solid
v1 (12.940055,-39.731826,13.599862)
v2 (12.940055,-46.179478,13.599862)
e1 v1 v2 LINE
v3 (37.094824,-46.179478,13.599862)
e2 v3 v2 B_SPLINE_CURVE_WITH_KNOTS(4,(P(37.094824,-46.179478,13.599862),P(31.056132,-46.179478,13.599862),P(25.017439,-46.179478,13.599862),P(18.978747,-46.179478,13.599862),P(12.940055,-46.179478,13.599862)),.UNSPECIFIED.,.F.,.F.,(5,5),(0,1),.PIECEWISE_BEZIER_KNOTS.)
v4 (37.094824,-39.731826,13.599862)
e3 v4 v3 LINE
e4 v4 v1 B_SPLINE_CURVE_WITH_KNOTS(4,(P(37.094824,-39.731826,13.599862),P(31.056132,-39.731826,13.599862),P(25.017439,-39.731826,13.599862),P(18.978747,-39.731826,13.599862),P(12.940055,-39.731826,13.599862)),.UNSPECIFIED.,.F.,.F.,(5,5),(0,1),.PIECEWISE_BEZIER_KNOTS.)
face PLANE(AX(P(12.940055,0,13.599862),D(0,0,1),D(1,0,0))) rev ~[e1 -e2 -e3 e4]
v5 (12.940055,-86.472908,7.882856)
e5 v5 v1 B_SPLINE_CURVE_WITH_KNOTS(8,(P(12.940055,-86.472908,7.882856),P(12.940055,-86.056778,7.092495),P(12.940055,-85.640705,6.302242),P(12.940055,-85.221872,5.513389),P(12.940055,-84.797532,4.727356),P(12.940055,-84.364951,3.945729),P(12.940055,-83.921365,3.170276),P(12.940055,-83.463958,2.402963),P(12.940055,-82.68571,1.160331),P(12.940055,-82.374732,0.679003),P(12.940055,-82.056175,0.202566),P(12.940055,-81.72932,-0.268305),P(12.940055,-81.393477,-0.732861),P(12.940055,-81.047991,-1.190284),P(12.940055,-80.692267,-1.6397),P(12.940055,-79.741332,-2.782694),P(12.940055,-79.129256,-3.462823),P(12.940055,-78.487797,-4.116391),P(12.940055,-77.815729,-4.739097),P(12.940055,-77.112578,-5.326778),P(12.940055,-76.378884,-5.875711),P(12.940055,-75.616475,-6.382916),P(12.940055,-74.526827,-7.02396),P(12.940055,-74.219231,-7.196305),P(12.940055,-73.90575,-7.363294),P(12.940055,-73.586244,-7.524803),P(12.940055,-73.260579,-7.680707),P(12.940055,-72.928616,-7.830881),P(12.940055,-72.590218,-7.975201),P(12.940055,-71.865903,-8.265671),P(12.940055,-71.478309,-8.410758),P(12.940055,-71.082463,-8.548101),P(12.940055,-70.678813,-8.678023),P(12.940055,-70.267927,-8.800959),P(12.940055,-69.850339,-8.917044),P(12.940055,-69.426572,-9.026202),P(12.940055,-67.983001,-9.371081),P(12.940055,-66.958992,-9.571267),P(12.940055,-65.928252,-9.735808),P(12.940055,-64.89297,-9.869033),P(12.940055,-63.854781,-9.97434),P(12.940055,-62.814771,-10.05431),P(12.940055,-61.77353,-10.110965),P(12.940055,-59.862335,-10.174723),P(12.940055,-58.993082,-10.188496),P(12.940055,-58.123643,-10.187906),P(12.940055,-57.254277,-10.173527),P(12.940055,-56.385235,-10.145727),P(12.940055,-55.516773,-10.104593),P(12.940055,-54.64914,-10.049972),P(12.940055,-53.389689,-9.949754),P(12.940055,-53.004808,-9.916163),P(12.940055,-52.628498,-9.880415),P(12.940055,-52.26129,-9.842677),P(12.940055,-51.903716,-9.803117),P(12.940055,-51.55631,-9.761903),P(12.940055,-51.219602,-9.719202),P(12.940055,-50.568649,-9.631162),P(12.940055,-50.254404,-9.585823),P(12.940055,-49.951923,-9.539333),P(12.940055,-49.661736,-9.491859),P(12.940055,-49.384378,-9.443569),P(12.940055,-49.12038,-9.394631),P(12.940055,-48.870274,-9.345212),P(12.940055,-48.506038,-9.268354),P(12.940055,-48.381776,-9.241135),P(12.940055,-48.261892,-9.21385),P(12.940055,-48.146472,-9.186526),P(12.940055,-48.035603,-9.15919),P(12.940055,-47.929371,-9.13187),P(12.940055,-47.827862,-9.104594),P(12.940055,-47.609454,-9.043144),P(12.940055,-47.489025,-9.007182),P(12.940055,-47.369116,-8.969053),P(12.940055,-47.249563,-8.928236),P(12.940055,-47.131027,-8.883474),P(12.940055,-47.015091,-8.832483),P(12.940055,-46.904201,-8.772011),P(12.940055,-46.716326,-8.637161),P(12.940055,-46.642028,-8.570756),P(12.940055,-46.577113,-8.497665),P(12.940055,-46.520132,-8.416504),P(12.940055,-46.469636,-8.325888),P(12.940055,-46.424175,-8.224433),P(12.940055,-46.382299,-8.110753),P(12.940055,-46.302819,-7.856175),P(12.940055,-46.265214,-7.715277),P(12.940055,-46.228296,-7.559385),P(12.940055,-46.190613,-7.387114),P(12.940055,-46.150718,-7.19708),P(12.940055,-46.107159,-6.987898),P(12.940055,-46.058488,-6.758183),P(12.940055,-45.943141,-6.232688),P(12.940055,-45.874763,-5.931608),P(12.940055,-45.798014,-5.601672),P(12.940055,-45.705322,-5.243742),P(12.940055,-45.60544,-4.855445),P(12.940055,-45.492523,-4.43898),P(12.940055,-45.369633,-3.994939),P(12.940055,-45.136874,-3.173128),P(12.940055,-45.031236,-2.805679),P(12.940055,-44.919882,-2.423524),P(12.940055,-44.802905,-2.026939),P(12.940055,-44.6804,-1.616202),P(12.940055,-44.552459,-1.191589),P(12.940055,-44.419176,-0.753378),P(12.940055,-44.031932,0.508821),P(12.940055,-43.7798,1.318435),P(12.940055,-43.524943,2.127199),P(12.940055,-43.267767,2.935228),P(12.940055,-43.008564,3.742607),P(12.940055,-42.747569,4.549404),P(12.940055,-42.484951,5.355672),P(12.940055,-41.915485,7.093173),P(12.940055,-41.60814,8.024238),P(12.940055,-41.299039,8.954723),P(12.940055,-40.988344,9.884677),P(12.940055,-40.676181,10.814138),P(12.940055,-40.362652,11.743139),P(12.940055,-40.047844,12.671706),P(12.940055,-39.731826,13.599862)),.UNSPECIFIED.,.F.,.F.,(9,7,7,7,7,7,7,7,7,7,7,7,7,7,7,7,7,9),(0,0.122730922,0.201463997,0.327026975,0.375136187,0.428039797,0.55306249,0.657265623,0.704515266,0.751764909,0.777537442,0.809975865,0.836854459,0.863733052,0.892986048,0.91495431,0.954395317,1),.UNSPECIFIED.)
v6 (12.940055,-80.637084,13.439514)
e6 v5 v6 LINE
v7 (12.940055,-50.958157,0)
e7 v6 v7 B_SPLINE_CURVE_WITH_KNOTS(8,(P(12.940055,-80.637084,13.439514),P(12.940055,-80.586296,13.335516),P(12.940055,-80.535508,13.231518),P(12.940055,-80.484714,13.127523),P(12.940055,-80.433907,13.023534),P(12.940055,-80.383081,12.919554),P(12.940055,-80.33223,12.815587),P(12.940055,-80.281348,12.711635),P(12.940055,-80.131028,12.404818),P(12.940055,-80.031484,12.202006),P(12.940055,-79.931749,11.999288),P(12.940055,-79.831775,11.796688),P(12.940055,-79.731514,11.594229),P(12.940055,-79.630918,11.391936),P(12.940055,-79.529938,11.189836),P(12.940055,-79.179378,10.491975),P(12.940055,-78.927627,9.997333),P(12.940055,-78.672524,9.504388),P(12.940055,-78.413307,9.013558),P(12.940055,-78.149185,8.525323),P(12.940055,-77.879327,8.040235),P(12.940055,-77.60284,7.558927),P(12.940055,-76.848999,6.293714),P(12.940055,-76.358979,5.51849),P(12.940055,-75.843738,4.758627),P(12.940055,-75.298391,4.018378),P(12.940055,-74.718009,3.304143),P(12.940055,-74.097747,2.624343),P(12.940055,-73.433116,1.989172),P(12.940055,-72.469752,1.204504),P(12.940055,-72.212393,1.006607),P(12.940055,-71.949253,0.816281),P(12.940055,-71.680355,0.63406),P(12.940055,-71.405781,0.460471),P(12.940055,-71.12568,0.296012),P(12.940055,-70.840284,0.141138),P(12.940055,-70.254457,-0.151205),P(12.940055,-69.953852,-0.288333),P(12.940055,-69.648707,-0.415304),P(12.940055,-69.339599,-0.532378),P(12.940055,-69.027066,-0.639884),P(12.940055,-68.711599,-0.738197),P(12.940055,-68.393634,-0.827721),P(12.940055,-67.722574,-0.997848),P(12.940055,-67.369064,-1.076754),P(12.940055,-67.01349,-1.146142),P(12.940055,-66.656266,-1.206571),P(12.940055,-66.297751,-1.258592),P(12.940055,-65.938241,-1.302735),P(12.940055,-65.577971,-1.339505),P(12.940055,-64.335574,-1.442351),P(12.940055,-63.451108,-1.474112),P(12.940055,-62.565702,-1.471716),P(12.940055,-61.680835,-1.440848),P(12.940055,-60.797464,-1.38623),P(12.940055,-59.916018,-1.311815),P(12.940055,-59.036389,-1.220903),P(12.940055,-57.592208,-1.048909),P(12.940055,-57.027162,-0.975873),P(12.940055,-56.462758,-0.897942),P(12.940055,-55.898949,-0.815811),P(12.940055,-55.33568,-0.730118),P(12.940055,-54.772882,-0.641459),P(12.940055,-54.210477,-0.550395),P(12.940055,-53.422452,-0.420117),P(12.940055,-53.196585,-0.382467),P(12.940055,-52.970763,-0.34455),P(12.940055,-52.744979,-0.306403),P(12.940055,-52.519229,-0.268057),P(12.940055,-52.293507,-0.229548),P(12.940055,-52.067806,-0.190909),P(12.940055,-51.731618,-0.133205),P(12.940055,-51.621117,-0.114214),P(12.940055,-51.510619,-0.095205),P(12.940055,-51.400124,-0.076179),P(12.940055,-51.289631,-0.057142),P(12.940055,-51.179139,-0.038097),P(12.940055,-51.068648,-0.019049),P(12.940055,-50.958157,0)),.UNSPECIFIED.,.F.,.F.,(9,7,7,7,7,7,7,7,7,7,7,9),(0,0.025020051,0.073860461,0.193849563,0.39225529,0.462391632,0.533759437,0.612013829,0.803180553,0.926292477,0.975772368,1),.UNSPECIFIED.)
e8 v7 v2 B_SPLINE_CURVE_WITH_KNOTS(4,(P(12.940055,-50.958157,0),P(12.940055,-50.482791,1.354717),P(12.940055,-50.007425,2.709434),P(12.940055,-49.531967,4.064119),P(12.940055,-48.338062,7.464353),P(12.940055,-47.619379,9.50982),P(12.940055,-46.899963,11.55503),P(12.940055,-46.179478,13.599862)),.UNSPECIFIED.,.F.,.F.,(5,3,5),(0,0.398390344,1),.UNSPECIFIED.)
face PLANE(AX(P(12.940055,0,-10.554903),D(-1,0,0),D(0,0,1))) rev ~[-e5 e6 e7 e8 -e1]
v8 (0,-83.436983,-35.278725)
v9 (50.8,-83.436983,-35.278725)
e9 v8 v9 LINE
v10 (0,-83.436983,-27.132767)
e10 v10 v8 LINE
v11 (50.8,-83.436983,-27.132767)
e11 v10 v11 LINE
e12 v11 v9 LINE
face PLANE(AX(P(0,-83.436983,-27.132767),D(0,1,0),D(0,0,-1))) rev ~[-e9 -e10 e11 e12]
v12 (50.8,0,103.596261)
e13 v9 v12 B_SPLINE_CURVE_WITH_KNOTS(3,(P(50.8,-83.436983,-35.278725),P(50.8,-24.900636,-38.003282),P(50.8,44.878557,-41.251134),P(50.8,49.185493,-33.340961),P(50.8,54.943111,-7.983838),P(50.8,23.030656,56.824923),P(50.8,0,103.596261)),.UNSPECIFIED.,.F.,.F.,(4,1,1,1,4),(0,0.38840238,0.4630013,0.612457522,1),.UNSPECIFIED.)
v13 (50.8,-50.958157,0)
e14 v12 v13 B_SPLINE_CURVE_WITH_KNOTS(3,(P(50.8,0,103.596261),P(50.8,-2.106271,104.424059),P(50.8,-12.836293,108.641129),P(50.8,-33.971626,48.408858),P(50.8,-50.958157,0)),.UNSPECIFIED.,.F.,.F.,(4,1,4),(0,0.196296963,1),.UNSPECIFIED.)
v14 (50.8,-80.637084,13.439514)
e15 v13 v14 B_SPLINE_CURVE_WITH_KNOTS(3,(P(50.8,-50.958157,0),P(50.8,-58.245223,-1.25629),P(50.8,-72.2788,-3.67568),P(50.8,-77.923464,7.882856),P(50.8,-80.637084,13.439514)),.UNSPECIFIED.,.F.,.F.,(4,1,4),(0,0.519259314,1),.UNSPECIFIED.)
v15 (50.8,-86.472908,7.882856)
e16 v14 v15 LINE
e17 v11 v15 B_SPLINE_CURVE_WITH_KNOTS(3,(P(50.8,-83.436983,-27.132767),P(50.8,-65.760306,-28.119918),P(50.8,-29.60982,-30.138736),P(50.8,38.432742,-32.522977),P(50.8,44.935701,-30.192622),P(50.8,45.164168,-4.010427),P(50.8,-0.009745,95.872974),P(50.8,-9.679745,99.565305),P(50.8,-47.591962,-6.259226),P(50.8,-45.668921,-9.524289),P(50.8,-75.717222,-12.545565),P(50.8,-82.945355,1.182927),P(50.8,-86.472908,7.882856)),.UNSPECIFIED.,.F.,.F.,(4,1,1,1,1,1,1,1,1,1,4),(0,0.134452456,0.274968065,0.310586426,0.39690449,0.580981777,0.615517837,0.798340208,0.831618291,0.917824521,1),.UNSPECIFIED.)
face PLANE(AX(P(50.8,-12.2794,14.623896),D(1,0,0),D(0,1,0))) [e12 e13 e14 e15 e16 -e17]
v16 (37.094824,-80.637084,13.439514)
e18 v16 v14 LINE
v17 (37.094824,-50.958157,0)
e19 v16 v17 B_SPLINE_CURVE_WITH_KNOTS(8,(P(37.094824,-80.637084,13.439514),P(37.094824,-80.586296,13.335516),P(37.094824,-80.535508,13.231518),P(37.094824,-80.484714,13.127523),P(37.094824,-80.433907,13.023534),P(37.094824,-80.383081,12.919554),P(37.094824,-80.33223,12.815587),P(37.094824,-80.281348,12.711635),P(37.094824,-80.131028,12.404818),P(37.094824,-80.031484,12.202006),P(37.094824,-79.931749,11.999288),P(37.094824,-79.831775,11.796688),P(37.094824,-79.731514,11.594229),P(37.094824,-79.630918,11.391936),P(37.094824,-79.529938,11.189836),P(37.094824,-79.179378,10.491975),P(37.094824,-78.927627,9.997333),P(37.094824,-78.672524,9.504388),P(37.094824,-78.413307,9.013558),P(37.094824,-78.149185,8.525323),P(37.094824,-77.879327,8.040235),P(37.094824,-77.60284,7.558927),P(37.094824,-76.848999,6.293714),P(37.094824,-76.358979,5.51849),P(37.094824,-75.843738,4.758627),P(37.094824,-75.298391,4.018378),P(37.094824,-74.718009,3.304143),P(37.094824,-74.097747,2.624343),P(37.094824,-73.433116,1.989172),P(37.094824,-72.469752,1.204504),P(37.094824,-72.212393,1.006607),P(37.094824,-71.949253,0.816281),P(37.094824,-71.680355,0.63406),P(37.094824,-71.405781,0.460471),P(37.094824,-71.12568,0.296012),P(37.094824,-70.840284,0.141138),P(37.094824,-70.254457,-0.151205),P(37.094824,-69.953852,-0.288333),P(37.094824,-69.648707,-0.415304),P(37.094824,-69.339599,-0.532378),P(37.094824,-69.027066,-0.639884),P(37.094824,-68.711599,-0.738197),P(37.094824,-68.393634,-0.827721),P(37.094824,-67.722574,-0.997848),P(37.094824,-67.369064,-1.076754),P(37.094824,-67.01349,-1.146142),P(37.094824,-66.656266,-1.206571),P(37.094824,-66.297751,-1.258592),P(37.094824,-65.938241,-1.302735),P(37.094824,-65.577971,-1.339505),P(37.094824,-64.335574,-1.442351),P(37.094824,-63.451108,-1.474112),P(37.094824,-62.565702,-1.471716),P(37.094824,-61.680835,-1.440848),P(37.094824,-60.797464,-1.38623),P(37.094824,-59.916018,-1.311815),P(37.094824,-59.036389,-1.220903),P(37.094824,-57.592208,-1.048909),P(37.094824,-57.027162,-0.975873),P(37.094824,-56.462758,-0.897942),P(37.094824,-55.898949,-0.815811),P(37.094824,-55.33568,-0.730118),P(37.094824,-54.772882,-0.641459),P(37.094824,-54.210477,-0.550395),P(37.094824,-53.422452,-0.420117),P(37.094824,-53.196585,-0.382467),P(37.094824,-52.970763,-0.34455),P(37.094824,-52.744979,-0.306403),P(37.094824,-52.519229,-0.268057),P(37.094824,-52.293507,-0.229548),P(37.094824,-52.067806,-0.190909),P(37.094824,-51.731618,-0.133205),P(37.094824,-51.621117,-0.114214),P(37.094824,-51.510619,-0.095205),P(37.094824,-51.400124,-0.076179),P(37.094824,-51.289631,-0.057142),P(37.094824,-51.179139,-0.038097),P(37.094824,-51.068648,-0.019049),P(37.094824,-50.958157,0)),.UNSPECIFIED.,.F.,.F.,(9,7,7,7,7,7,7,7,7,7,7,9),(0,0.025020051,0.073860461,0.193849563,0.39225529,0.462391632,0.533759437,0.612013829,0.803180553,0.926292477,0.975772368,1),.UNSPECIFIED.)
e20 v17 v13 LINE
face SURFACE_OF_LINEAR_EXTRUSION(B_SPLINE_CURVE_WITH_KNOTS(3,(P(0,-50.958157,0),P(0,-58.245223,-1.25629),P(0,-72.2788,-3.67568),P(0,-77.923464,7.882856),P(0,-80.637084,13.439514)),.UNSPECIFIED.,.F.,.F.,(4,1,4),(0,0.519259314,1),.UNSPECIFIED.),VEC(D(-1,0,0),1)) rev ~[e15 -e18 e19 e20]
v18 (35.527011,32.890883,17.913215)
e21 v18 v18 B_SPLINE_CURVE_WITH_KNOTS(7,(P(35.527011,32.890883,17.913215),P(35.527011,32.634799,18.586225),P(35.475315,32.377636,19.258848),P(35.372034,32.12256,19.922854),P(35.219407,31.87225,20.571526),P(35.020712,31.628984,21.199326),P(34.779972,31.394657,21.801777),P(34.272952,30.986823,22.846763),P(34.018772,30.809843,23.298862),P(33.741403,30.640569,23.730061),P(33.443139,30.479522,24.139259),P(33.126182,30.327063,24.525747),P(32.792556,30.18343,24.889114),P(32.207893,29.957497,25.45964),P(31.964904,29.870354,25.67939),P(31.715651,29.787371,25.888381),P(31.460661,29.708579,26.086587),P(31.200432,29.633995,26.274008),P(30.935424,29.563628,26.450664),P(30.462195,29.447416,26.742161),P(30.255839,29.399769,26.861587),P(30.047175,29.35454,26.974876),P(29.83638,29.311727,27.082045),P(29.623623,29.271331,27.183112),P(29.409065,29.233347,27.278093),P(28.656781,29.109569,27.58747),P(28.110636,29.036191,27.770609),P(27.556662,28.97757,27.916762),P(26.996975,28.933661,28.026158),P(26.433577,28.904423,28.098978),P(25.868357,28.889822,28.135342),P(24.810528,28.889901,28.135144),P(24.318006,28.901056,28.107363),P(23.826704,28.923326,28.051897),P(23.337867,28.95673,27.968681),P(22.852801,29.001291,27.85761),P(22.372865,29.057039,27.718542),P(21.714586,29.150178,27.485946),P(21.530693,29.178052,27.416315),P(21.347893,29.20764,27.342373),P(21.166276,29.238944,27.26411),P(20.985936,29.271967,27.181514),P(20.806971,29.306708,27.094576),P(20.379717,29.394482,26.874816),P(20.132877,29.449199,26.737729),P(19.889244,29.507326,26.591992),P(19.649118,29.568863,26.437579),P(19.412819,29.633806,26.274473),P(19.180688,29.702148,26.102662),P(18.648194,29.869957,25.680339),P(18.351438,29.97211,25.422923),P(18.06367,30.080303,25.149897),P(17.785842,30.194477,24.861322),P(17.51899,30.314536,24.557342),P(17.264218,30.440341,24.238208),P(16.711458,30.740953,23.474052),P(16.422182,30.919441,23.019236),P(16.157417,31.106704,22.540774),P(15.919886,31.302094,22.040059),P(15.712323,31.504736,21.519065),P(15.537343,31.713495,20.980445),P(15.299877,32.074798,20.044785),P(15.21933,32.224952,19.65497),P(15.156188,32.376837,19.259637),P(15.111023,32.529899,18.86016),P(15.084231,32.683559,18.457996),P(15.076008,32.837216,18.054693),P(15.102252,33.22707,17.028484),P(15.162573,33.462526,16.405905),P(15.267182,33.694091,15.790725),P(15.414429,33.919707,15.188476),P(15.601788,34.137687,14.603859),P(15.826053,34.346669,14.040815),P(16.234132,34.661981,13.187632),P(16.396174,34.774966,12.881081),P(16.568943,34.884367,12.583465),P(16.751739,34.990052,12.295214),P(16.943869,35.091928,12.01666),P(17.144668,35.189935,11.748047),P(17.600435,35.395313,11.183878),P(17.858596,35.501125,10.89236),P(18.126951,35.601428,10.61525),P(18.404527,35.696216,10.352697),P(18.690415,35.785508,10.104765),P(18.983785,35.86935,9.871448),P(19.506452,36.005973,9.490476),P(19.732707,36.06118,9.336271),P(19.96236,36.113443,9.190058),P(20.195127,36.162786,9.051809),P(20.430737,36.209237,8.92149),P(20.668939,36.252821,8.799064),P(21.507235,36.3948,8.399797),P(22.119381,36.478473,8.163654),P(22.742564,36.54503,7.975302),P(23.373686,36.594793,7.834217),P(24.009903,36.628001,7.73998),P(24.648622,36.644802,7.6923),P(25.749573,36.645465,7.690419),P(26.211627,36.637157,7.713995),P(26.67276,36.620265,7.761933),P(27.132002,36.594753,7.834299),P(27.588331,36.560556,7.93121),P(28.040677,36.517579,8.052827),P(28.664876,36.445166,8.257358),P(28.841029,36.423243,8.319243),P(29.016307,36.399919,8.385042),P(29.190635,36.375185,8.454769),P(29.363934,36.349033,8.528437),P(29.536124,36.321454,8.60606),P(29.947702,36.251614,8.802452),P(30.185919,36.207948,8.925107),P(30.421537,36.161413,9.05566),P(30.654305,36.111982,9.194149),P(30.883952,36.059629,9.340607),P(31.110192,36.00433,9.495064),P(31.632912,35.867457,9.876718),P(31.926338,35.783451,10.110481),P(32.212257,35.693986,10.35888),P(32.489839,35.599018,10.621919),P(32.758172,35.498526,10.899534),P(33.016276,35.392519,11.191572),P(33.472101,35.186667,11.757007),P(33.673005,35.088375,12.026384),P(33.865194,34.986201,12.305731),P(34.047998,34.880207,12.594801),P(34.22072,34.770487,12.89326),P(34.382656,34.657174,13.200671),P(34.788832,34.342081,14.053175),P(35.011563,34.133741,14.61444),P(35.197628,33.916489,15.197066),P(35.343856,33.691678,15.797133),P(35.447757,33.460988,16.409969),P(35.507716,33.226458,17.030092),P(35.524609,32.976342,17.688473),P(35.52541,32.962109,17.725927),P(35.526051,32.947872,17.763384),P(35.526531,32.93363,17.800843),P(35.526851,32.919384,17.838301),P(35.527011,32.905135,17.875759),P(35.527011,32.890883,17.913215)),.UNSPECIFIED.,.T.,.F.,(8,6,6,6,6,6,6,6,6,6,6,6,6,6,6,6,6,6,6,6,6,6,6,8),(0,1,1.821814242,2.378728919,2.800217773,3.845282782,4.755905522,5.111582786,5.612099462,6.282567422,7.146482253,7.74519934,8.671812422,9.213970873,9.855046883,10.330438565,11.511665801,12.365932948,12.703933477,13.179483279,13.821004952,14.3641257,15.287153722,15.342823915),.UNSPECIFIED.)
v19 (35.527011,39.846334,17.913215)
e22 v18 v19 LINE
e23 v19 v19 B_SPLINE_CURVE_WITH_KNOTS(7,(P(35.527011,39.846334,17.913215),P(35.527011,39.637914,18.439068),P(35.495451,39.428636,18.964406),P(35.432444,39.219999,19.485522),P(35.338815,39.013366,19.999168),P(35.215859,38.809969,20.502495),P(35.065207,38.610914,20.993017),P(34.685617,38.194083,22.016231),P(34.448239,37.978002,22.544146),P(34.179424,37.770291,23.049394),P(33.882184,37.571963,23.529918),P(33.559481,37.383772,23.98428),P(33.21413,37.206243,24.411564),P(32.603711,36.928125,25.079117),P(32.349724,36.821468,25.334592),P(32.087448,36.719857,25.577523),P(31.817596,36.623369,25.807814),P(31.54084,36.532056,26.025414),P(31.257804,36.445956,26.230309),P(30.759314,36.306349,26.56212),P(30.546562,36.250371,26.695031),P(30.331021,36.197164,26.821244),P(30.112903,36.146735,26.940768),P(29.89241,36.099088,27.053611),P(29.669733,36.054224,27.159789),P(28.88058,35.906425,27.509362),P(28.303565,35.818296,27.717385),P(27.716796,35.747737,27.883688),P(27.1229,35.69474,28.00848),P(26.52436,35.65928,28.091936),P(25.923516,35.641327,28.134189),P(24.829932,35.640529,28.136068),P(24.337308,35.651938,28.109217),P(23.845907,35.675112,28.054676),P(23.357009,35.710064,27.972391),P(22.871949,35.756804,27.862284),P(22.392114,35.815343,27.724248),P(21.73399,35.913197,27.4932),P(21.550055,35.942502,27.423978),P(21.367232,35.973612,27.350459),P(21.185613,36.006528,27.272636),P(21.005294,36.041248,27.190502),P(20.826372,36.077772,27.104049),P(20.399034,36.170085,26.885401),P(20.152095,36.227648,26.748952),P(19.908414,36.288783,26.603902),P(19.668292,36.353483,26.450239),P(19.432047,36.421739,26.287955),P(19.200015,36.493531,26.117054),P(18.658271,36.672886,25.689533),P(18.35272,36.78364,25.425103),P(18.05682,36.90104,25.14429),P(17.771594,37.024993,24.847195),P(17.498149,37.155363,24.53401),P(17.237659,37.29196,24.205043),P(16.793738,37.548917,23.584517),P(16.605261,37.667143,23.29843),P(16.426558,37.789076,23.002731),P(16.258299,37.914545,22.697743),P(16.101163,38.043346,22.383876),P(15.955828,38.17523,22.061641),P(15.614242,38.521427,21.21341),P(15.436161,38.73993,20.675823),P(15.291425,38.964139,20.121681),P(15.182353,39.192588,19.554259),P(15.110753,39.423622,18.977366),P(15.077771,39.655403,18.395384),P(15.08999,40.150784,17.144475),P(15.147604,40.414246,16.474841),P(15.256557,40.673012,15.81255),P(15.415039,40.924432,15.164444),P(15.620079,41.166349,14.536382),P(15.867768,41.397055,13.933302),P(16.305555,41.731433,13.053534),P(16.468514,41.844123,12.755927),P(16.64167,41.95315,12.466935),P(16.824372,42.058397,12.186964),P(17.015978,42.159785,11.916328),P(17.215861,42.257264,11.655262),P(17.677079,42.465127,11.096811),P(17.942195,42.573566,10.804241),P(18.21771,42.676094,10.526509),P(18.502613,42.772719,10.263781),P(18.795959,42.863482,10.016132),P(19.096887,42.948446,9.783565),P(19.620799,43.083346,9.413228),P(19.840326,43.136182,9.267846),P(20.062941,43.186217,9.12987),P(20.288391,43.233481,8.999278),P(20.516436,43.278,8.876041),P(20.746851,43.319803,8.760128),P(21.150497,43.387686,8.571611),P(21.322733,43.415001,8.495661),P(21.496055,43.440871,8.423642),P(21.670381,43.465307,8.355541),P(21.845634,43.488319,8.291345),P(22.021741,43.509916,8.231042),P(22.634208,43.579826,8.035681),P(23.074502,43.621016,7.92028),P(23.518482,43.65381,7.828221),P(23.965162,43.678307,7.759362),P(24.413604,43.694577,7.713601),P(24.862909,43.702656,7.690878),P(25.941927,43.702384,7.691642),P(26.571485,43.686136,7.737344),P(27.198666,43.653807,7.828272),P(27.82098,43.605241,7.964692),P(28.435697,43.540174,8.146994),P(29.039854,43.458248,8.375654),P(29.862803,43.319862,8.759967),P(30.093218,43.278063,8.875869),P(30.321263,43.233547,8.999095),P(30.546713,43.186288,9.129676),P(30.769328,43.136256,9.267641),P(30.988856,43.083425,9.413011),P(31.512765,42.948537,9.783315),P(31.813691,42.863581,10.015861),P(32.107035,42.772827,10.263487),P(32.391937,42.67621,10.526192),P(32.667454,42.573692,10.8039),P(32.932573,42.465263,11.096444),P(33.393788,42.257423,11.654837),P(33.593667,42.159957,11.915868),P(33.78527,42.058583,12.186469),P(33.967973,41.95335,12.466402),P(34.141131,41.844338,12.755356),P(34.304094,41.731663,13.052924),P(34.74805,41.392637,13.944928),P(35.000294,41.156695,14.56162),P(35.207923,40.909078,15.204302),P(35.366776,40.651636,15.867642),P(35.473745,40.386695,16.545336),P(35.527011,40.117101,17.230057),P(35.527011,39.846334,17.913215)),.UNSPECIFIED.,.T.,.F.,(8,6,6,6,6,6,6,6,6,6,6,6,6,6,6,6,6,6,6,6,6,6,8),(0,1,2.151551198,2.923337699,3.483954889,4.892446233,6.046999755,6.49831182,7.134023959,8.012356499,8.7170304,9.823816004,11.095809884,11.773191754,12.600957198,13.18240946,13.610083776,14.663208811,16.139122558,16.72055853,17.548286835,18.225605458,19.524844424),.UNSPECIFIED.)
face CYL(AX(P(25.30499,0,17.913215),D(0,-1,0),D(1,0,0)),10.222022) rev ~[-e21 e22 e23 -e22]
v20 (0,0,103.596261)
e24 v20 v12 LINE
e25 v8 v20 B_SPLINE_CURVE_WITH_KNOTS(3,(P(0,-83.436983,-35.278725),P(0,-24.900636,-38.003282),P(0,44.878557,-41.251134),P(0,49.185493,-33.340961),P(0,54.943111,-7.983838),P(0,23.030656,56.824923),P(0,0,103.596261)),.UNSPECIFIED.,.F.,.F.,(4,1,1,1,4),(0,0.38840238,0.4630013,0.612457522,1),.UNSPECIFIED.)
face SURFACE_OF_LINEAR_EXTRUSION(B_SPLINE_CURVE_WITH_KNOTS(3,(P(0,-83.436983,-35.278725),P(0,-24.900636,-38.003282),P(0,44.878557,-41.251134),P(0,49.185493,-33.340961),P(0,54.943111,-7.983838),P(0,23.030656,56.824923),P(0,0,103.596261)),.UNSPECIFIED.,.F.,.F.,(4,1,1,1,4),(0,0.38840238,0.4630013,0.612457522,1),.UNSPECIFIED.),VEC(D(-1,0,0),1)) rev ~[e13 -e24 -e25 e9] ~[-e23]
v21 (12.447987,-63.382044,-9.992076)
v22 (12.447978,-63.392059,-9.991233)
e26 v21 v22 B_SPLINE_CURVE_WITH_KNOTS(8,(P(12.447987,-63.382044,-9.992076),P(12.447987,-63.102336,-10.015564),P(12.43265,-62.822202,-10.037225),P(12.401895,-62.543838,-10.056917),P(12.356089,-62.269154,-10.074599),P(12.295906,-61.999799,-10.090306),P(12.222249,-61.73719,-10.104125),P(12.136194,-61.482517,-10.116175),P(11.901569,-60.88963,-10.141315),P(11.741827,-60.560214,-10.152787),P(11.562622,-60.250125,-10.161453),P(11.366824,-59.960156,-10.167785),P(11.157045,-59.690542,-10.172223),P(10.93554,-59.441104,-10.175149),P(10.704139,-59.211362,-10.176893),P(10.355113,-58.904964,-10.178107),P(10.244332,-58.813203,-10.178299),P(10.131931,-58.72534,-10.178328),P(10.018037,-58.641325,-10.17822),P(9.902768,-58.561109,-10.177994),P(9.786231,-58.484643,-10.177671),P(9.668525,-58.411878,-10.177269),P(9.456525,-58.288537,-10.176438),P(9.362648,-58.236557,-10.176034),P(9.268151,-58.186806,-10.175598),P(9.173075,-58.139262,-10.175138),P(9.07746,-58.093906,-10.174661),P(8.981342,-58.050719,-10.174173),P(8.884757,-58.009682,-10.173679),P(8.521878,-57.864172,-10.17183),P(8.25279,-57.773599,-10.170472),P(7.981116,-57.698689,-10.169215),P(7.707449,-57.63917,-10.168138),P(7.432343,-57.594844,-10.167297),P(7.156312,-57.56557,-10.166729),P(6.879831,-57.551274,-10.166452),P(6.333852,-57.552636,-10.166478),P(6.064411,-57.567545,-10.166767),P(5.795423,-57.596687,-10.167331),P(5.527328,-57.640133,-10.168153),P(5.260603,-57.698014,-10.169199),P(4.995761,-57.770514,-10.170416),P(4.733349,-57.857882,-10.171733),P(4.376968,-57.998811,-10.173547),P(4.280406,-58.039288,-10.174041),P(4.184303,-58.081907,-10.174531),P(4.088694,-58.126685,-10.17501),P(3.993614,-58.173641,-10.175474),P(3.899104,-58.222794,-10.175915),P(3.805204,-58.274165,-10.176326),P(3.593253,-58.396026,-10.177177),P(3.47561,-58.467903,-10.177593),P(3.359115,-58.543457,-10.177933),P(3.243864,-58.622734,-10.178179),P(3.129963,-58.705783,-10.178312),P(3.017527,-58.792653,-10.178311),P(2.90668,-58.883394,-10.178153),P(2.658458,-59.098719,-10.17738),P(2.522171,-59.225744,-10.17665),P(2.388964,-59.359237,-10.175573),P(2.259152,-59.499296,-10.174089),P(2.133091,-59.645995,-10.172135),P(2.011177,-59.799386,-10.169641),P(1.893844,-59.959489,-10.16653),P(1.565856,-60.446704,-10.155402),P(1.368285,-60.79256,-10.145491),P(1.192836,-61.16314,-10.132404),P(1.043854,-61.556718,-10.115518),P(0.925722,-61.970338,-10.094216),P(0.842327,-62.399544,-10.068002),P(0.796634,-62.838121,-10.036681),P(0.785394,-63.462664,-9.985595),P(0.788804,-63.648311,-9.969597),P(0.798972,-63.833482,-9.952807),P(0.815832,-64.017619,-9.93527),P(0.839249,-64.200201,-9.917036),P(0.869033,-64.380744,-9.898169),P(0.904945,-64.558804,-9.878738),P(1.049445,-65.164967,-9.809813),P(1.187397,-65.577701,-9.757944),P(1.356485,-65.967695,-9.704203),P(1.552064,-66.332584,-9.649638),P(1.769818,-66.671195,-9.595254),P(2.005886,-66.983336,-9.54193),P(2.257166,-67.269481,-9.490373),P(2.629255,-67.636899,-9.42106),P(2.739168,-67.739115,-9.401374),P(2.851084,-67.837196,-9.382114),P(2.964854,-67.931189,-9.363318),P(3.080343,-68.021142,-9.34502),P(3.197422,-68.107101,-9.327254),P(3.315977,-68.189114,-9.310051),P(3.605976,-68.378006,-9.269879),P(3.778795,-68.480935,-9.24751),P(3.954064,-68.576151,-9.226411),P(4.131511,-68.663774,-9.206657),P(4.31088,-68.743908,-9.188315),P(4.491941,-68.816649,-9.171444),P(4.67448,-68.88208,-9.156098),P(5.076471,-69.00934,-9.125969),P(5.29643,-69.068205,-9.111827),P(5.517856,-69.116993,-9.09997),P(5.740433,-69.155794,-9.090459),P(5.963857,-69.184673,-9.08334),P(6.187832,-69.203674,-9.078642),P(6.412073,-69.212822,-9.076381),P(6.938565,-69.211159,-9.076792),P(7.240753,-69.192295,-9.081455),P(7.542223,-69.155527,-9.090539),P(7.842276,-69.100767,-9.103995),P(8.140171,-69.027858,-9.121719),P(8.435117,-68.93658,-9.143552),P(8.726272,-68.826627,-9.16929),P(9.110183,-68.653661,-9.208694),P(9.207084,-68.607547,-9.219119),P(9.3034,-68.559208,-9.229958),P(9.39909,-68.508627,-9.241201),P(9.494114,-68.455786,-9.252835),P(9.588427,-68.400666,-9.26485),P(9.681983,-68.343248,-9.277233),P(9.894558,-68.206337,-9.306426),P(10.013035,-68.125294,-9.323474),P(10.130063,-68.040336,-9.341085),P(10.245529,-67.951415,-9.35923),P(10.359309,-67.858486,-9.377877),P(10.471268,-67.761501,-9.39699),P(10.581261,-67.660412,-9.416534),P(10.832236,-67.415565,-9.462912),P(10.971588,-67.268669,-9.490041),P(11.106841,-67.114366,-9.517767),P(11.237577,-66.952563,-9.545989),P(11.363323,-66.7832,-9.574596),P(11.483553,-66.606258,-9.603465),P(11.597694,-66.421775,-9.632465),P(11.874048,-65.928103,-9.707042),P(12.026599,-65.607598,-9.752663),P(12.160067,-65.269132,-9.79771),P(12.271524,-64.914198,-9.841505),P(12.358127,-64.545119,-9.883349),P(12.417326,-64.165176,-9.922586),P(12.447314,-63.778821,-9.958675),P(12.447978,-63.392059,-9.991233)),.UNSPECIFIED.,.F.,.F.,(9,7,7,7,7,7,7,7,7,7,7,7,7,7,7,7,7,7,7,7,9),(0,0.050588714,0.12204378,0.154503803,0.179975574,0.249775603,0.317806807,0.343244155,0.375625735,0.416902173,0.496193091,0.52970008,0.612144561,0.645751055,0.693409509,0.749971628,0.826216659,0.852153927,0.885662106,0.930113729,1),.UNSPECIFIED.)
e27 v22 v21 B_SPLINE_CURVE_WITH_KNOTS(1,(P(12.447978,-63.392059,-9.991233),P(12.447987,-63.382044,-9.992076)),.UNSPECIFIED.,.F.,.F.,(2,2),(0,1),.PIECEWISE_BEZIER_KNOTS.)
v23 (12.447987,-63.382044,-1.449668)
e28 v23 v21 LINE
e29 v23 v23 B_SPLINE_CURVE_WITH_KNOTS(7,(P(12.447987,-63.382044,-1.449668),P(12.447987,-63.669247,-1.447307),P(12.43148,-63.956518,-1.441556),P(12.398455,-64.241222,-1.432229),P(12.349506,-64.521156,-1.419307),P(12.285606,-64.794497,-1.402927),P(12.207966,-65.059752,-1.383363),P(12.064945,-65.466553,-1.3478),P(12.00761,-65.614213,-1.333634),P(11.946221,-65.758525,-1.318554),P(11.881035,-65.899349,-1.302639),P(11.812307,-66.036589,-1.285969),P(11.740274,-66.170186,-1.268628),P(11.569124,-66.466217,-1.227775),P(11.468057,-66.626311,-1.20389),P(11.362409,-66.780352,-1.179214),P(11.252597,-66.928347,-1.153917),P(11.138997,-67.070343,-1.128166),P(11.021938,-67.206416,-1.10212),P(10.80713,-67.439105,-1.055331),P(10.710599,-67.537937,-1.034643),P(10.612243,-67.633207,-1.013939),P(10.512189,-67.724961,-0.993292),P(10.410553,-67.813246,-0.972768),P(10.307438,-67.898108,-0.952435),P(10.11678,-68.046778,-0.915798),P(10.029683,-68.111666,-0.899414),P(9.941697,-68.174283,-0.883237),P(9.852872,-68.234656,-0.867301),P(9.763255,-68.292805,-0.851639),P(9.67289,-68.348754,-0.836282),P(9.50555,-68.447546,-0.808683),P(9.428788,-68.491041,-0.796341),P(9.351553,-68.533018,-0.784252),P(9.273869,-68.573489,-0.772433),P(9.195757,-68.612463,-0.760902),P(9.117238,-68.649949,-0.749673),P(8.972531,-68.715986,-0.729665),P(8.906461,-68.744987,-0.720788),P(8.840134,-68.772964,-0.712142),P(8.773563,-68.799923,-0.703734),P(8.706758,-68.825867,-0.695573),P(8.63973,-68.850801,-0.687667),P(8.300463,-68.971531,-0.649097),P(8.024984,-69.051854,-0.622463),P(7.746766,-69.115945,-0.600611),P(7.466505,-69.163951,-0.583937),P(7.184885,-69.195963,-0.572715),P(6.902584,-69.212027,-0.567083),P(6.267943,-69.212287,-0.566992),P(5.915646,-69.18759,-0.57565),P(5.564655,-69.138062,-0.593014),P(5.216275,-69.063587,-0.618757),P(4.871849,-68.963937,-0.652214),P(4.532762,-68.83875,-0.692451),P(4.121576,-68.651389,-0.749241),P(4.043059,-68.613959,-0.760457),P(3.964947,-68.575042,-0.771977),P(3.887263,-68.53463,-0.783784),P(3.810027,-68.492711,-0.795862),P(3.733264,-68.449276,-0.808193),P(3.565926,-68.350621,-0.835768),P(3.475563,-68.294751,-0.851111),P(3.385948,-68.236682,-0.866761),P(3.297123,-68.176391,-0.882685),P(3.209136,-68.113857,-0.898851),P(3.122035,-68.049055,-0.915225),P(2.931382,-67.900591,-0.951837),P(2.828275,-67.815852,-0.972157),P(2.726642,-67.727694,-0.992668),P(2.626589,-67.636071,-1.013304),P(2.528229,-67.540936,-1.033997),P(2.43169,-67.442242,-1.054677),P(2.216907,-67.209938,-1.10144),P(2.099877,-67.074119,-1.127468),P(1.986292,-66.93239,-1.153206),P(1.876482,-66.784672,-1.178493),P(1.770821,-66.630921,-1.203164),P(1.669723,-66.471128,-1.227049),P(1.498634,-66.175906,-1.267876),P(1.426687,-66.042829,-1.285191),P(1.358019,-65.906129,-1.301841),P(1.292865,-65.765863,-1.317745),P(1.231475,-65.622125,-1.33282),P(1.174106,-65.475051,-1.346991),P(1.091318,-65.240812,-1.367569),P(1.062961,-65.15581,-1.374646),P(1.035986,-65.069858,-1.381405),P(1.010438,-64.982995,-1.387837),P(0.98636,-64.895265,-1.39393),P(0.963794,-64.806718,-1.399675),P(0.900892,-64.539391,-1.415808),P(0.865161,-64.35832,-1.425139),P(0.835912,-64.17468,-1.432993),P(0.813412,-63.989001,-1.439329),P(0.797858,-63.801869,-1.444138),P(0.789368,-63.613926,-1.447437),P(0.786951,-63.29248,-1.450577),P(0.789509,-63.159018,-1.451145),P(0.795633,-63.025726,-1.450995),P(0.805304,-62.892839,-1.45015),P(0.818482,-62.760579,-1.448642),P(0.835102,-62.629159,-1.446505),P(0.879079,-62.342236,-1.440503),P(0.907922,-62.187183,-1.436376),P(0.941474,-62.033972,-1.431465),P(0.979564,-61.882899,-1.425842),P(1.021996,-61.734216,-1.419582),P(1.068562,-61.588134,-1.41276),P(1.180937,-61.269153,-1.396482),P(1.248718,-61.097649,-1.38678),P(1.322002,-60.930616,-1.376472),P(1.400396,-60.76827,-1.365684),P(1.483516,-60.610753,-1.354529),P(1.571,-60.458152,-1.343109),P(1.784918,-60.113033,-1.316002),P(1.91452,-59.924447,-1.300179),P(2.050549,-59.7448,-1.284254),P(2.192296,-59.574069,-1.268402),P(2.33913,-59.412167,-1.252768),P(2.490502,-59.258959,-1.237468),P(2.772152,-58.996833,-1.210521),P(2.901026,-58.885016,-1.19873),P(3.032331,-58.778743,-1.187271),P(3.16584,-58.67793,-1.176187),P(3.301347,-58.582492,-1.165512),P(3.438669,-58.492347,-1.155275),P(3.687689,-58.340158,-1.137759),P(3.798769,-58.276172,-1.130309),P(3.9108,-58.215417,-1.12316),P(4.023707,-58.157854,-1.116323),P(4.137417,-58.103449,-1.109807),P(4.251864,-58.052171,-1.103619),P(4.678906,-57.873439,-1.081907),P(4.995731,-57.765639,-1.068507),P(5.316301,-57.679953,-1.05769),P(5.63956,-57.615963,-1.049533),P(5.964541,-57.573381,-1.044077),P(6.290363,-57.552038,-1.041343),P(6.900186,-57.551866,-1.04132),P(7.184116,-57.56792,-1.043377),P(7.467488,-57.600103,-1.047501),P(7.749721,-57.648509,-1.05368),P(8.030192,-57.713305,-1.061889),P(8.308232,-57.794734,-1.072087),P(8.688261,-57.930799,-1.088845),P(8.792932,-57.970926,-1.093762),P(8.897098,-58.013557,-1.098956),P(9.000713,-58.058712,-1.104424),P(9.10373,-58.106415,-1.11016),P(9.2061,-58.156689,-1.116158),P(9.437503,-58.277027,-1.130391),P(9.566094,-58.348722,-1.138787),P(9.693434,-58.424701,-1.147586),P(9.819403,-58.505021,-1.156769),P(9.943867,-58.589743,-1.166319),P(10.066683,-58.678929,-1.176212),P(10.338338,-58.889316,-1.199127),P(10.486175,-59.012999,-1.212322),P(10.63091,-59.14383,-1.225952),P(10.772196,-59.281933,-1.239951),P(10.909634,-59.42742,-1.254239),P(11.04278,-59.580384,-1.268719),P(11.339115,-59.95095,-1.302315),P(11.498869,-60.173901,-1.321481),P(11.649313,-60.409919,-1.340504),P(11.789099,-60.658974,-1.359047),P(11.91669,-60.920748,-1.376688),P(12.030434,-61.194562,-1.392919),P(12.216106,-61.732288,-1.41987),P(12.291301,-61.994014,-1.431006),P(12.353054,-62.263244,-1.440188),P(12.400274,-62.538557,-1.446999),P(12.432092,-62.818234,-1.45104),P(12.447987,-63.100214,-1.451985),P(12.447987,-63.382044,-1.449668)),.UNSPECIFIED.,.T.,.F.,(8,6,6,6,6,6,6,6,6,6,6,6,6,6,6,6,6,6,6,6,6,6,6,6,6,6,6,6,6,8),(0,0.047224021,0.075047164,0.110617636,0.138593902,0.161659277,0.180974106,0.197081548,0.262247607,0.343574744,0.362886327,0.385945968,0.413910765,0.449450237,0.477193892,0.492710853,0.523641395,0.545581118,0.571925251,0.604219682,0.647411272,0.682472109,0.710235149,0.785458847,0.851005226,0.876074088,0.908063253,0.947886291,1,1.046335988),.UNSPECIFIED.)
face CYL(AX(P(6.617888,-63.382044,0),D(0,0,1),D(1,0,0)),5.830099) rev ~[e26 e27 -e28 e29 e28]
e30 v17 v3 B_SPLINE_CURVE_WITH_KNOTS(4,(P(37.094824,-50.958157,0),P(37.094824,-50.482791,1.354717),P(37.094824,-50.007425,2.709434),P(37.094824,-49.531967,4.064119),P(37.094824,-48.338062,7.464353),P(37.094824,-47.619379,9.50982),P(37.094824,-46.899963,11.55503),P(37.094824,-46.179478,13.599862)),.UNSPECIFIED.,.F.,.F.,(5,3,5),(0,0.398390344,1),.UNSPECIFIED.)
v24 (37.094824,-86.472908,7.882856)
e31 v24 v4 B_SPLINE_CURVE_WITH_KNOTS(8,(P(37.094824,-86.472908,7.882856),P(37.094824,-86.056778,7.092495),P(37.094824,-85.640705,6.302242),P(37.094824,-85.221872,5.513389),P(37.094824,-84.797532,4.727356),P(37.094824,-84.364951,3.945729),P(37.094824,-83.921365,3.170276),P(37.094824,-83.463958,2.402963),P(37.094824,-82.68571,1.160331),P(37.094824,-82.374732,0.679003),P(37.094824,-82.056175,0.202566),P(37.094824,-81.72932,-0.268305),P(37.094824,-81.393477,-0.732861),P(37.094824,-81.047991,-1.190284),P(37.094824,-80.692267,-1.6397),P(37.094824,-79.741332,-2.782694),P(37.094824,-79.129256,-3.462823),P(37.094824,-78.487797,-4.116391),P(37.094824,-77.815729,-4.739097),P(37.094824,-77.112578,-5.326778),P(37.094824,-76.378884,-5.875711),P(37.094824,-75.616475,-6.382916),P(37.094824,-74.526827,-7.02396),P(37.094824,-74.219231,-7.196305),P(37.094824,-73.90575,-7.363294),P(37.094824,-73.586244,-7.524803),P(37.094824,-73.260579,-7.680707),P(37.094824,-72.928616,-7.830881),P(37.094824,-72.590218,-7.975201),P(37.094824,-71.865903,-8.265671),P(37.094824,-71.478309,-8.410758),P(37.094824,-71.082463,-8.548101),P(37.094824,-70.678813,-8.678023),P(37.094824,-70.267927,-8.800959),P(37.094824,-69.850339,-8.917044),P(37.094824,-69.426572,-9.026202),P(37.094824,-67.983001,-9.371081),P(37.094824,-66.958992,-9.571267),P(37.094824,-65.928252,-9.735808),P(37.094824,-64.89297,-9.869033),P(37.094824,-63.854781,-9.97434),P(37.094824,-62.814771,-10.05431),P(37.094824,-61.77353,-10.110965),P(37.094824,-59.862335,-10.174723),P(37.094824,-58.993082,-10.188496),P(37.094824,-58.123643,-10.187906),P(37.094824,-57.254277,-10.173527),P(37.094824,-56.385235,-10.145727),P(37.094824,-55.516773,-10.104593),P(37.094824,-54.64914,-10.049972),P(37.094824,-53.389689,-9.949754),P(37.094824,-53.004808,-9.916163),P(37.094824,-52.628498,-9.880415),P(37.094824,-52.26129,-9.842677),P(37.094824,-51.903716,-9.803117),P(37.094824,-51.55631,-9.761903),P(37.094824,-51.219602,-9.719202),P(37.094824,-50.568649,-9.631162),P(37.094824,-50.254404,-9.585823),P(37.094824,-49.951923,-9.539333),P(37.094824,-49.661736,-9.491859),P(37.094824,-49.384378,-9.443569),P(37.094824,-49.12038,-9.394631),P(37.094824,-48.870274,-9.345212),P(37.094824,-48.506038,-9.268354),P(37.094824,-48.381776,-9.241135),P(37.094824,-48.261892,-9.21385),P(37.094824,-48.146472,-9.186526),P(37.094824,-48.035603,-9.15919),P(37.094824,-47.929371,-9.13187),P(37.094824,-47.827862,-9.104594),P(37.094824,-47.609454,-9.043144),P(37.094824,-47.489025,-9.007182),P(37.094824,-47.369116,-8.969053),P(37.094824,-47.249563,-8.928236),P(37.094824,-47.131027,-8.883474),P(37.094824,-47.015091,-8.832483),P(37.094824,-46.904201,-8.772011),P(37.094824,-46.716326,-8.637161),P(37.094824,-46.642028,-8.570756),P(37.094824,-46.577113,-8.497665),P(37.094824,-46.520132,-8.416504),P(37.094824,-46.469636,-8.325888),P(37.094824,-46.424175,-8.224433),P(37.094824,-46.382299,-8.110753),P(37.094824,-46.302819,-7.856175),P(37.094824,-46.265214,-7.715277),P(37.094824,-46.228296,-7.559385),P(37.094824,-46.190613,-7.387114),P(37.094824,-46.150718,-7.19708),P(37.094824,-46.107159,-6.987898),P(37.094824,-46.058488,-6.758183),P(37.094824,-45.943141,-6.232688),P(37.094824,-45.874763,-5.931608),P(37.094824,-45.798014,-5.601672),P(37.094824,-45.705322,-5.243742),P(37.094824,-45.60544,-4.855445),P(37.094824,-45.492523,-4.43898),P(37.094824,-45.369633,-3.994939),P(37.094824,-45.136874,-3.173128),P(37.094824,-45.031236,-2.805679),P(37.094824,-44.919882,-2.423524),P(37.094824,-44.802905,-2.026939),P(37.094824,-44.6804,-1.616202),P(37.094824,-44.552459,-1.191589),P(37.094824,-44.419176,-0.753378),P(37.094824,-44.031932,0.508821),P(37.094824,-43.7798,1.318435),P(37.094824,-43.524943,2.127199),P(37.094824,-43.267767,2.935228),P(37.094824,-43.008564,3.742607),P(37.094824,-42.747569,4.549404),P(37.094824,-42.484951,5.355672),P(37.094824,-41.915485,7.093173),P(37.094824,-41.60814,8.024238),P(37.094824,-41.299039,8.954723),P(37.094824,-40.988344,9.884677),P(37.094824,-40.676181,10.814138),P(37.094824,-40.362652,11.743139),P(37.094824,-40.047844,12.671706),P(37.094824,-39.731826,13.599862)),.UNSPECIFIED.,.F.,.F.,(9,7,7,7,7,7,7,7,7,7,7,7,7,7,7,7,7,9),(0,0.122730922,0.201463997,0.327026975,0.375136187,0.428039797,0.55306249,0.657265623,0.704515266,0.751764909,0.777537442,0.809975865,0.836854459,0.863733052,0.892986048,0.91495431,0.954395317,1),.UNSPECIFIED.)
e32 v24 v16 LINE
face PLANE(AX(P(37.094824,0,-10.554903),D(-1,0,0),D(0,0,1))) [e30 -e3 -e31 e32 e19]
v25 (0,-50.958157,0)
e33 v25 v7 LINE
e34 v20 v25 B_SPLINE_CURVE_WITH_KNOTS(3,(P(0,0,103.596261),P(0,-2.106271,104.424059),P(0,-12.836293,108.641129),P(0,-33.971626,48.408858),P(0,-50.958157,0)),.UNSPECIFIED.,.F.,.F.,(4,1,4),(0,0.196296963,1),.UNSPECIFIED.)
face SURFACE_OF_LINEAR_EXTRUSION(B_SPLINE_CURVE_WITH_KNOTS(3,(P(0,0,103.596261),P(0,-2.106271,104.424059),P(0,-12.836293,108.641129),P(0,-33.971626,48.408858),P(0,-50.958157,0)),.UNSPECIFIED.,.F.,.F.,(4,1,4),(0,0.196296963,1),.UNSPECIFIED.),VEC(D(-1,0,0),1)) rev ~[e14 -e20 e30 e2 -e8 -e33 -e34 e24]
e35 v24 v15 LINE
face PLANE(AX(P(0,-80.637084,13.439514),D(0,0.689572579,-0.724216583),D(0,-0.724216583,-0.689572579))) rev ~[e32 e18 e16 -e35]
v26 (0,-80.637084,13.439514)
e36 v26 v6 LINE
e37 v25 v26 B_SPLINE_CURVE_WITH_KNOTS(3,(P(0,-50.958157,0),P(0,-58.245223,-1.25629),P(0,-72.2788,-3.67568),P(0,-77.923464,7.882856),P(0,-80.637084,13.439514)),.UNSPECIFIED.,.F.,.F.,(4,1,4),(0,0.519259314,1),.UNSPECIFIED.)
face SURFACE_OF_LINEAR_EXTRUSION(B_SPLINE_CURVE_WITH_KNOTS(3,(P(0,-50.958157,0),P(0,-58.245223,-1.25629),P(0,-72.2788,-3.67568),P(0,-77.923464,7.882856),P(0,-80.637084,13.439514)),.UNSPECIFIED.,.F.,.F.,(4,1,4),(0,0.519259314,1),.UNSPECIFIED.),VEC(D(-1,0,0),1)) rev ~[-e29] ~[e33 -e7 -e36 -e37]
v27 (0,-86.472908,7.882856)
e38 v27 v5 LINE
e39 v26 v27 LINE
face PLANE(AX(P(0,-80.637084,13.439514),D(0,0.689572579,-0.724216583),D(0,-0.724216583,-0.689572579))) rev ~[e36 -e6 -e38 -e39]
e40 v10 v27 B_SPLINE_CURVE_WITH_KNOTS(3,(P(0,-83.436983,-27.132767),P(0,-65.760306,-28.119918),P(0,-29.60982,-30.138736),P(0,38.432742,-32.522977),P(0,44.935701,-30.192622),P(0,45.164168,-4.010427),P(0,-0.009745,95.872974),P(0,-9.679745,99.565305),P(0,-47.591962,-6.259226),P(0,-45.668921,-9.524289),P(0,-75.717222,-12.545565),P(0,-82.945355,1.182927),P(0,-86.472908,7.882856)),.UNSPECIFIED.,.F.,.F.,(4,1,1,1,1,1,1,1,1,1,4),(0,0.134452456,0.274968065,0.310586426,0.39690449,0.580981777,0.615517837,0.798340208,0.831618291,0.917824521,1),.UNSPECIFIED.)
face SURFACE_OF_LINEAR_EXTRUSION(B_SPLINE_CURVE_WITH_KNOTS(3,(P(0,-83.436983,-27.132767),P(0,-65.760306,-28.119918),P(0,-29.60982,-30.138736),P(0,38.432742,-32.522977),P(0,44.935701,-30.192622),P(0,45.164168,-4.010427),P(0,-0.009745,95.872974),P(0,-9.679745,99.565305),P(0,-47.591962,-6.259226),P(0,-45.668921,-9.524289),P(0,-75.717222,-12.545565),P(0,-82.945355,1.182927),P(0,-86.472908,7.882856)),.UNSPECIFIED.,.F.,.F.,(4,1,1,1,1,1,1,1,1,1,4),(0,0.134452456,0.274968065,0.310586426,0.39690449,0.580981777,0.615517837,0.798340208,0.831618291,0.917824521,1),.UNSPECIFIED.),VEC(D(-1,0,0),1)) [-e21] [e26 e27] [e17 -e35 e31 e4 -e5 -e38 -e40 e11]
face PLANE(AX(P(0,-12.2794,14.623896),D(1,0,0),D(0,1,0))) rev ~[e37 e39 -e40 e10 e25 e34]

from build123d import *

# Parameters (mm, degrees)
F1_DEPTH = 50.8
F2_R     = 10.2220216049
F3_DEPTH = 50.8
F4_W     = 24.1547692567
F4_H     = 24.1547655314
F5_DEPTH = 127
F6_R     = 5.8300986484
F7_DEPTH = 12.7


with BuildPart() as f1:
    # F0 (on Right) → F1 (new body)
    with BuildSketch(Plane.YZ):
        with BuildLine():
            add(Edge.make_bspline(
                [(-83.4369831445, -35.2787248788), (-24.9006363158, -38.0032817898), (44.8785568467, -41.2511336507), (49.1854925175, -33.3409606877), (54.9431114975, -7.9838381905), (23.0306557103, 56.8249226152), (0, 103.5962606496)],
                knots=[0, 0, 0, 0, 0.3884023795, 0.4630012998, 0.6124575224, 1, 1, 1, 1], degree=3))
            add(Edge.make_bspline(
                [(0, 103.5962606496), (-2.106270749, 104.4240586645), (-12.8362928401, 108.6411285695), (-33.971625863, 48.4088584347), (-50.9581572022, 0)],
                knots=[0, 0, 0, 0, 0.196296963, 1, 1, 1, 1], degree=3))
            add(Edge.make_bspline(
                [(-50.9581572022, 0), (-58.24522292, -1.2562903604), (-72.2788002022, -3.6756795279), (-77.9234644483, 7.8828558245), (-80.637084208, 13.4395140347)],
                knots=[0, 0, 0, 0, 0.5192593144, 1, 1, 1, 1], degree=3))
            Line((-80.637084208, 13.4395140347), (-86.472907942, 7.8828558245))
            add(Edge.make_bspline(
                [(-83.4369831445, -27.1327674854), (-65.7603060655, -28.1199184784), (-29.6098195376, -30.1387361846), (38.4327422837, -32.5229765644), (44.9357011011, -30.1926221753), (45.164167703, -4.0104266132), (-0.0097451939, 95.8729742802), (-9.6797449936, 99.5653047305), (-47.5919622268, -6.2592257242), (-45.668921042, -9.5242886473), (-75.7172221471, -12.5455652217), (-82.9453554494, 1.1829271584), (-86.472907942, 7.8828558245)],
                knots=[0, 0, 0, 0, 0.1344524558, 0.274968065, 0.3105864262, 0.3969044902, 0.5809817767, 0.6155178373, 0.7983402084, 0.831618291, 0.9178245209, 1, 1, 1, 1], degree=3))
            Line((-83.4369831445, -27.1327674854), (-83.4369831445, -35.2787248788))
        make_face()
    extrude(amount=F1_DEPTH)

    # F2 (on Front) → F3 (cut)
    with BuildSketch(Plane.XZ):
        with Locations((25.3049898893, 17.9132148623)):
            Circle(F2_R)
    extrude(amount=-F3_DEPTH, mode=Mode.SUBTRACT)

    # F4 (on Front) → F5 (cut)
    with BuildSketch(Plane.XZ):
        with Locations((25.0174393877, 1.5224795789)):
            Rectangle(F4_W, F4_H)
    extrude(amount=F5_DEPTH, mode=Mode.SUBTRACT)

    # F6 (on Top) → F7 (cut)
    with BuildSketch(Plane.XY):
        with Locations((6.6178878769, -63.3820444345)):
            Circle(F6_R)
    extrude(amount=-F7_DEPTH, mode=Mode.SUBTRACT)


solid = f1.part
